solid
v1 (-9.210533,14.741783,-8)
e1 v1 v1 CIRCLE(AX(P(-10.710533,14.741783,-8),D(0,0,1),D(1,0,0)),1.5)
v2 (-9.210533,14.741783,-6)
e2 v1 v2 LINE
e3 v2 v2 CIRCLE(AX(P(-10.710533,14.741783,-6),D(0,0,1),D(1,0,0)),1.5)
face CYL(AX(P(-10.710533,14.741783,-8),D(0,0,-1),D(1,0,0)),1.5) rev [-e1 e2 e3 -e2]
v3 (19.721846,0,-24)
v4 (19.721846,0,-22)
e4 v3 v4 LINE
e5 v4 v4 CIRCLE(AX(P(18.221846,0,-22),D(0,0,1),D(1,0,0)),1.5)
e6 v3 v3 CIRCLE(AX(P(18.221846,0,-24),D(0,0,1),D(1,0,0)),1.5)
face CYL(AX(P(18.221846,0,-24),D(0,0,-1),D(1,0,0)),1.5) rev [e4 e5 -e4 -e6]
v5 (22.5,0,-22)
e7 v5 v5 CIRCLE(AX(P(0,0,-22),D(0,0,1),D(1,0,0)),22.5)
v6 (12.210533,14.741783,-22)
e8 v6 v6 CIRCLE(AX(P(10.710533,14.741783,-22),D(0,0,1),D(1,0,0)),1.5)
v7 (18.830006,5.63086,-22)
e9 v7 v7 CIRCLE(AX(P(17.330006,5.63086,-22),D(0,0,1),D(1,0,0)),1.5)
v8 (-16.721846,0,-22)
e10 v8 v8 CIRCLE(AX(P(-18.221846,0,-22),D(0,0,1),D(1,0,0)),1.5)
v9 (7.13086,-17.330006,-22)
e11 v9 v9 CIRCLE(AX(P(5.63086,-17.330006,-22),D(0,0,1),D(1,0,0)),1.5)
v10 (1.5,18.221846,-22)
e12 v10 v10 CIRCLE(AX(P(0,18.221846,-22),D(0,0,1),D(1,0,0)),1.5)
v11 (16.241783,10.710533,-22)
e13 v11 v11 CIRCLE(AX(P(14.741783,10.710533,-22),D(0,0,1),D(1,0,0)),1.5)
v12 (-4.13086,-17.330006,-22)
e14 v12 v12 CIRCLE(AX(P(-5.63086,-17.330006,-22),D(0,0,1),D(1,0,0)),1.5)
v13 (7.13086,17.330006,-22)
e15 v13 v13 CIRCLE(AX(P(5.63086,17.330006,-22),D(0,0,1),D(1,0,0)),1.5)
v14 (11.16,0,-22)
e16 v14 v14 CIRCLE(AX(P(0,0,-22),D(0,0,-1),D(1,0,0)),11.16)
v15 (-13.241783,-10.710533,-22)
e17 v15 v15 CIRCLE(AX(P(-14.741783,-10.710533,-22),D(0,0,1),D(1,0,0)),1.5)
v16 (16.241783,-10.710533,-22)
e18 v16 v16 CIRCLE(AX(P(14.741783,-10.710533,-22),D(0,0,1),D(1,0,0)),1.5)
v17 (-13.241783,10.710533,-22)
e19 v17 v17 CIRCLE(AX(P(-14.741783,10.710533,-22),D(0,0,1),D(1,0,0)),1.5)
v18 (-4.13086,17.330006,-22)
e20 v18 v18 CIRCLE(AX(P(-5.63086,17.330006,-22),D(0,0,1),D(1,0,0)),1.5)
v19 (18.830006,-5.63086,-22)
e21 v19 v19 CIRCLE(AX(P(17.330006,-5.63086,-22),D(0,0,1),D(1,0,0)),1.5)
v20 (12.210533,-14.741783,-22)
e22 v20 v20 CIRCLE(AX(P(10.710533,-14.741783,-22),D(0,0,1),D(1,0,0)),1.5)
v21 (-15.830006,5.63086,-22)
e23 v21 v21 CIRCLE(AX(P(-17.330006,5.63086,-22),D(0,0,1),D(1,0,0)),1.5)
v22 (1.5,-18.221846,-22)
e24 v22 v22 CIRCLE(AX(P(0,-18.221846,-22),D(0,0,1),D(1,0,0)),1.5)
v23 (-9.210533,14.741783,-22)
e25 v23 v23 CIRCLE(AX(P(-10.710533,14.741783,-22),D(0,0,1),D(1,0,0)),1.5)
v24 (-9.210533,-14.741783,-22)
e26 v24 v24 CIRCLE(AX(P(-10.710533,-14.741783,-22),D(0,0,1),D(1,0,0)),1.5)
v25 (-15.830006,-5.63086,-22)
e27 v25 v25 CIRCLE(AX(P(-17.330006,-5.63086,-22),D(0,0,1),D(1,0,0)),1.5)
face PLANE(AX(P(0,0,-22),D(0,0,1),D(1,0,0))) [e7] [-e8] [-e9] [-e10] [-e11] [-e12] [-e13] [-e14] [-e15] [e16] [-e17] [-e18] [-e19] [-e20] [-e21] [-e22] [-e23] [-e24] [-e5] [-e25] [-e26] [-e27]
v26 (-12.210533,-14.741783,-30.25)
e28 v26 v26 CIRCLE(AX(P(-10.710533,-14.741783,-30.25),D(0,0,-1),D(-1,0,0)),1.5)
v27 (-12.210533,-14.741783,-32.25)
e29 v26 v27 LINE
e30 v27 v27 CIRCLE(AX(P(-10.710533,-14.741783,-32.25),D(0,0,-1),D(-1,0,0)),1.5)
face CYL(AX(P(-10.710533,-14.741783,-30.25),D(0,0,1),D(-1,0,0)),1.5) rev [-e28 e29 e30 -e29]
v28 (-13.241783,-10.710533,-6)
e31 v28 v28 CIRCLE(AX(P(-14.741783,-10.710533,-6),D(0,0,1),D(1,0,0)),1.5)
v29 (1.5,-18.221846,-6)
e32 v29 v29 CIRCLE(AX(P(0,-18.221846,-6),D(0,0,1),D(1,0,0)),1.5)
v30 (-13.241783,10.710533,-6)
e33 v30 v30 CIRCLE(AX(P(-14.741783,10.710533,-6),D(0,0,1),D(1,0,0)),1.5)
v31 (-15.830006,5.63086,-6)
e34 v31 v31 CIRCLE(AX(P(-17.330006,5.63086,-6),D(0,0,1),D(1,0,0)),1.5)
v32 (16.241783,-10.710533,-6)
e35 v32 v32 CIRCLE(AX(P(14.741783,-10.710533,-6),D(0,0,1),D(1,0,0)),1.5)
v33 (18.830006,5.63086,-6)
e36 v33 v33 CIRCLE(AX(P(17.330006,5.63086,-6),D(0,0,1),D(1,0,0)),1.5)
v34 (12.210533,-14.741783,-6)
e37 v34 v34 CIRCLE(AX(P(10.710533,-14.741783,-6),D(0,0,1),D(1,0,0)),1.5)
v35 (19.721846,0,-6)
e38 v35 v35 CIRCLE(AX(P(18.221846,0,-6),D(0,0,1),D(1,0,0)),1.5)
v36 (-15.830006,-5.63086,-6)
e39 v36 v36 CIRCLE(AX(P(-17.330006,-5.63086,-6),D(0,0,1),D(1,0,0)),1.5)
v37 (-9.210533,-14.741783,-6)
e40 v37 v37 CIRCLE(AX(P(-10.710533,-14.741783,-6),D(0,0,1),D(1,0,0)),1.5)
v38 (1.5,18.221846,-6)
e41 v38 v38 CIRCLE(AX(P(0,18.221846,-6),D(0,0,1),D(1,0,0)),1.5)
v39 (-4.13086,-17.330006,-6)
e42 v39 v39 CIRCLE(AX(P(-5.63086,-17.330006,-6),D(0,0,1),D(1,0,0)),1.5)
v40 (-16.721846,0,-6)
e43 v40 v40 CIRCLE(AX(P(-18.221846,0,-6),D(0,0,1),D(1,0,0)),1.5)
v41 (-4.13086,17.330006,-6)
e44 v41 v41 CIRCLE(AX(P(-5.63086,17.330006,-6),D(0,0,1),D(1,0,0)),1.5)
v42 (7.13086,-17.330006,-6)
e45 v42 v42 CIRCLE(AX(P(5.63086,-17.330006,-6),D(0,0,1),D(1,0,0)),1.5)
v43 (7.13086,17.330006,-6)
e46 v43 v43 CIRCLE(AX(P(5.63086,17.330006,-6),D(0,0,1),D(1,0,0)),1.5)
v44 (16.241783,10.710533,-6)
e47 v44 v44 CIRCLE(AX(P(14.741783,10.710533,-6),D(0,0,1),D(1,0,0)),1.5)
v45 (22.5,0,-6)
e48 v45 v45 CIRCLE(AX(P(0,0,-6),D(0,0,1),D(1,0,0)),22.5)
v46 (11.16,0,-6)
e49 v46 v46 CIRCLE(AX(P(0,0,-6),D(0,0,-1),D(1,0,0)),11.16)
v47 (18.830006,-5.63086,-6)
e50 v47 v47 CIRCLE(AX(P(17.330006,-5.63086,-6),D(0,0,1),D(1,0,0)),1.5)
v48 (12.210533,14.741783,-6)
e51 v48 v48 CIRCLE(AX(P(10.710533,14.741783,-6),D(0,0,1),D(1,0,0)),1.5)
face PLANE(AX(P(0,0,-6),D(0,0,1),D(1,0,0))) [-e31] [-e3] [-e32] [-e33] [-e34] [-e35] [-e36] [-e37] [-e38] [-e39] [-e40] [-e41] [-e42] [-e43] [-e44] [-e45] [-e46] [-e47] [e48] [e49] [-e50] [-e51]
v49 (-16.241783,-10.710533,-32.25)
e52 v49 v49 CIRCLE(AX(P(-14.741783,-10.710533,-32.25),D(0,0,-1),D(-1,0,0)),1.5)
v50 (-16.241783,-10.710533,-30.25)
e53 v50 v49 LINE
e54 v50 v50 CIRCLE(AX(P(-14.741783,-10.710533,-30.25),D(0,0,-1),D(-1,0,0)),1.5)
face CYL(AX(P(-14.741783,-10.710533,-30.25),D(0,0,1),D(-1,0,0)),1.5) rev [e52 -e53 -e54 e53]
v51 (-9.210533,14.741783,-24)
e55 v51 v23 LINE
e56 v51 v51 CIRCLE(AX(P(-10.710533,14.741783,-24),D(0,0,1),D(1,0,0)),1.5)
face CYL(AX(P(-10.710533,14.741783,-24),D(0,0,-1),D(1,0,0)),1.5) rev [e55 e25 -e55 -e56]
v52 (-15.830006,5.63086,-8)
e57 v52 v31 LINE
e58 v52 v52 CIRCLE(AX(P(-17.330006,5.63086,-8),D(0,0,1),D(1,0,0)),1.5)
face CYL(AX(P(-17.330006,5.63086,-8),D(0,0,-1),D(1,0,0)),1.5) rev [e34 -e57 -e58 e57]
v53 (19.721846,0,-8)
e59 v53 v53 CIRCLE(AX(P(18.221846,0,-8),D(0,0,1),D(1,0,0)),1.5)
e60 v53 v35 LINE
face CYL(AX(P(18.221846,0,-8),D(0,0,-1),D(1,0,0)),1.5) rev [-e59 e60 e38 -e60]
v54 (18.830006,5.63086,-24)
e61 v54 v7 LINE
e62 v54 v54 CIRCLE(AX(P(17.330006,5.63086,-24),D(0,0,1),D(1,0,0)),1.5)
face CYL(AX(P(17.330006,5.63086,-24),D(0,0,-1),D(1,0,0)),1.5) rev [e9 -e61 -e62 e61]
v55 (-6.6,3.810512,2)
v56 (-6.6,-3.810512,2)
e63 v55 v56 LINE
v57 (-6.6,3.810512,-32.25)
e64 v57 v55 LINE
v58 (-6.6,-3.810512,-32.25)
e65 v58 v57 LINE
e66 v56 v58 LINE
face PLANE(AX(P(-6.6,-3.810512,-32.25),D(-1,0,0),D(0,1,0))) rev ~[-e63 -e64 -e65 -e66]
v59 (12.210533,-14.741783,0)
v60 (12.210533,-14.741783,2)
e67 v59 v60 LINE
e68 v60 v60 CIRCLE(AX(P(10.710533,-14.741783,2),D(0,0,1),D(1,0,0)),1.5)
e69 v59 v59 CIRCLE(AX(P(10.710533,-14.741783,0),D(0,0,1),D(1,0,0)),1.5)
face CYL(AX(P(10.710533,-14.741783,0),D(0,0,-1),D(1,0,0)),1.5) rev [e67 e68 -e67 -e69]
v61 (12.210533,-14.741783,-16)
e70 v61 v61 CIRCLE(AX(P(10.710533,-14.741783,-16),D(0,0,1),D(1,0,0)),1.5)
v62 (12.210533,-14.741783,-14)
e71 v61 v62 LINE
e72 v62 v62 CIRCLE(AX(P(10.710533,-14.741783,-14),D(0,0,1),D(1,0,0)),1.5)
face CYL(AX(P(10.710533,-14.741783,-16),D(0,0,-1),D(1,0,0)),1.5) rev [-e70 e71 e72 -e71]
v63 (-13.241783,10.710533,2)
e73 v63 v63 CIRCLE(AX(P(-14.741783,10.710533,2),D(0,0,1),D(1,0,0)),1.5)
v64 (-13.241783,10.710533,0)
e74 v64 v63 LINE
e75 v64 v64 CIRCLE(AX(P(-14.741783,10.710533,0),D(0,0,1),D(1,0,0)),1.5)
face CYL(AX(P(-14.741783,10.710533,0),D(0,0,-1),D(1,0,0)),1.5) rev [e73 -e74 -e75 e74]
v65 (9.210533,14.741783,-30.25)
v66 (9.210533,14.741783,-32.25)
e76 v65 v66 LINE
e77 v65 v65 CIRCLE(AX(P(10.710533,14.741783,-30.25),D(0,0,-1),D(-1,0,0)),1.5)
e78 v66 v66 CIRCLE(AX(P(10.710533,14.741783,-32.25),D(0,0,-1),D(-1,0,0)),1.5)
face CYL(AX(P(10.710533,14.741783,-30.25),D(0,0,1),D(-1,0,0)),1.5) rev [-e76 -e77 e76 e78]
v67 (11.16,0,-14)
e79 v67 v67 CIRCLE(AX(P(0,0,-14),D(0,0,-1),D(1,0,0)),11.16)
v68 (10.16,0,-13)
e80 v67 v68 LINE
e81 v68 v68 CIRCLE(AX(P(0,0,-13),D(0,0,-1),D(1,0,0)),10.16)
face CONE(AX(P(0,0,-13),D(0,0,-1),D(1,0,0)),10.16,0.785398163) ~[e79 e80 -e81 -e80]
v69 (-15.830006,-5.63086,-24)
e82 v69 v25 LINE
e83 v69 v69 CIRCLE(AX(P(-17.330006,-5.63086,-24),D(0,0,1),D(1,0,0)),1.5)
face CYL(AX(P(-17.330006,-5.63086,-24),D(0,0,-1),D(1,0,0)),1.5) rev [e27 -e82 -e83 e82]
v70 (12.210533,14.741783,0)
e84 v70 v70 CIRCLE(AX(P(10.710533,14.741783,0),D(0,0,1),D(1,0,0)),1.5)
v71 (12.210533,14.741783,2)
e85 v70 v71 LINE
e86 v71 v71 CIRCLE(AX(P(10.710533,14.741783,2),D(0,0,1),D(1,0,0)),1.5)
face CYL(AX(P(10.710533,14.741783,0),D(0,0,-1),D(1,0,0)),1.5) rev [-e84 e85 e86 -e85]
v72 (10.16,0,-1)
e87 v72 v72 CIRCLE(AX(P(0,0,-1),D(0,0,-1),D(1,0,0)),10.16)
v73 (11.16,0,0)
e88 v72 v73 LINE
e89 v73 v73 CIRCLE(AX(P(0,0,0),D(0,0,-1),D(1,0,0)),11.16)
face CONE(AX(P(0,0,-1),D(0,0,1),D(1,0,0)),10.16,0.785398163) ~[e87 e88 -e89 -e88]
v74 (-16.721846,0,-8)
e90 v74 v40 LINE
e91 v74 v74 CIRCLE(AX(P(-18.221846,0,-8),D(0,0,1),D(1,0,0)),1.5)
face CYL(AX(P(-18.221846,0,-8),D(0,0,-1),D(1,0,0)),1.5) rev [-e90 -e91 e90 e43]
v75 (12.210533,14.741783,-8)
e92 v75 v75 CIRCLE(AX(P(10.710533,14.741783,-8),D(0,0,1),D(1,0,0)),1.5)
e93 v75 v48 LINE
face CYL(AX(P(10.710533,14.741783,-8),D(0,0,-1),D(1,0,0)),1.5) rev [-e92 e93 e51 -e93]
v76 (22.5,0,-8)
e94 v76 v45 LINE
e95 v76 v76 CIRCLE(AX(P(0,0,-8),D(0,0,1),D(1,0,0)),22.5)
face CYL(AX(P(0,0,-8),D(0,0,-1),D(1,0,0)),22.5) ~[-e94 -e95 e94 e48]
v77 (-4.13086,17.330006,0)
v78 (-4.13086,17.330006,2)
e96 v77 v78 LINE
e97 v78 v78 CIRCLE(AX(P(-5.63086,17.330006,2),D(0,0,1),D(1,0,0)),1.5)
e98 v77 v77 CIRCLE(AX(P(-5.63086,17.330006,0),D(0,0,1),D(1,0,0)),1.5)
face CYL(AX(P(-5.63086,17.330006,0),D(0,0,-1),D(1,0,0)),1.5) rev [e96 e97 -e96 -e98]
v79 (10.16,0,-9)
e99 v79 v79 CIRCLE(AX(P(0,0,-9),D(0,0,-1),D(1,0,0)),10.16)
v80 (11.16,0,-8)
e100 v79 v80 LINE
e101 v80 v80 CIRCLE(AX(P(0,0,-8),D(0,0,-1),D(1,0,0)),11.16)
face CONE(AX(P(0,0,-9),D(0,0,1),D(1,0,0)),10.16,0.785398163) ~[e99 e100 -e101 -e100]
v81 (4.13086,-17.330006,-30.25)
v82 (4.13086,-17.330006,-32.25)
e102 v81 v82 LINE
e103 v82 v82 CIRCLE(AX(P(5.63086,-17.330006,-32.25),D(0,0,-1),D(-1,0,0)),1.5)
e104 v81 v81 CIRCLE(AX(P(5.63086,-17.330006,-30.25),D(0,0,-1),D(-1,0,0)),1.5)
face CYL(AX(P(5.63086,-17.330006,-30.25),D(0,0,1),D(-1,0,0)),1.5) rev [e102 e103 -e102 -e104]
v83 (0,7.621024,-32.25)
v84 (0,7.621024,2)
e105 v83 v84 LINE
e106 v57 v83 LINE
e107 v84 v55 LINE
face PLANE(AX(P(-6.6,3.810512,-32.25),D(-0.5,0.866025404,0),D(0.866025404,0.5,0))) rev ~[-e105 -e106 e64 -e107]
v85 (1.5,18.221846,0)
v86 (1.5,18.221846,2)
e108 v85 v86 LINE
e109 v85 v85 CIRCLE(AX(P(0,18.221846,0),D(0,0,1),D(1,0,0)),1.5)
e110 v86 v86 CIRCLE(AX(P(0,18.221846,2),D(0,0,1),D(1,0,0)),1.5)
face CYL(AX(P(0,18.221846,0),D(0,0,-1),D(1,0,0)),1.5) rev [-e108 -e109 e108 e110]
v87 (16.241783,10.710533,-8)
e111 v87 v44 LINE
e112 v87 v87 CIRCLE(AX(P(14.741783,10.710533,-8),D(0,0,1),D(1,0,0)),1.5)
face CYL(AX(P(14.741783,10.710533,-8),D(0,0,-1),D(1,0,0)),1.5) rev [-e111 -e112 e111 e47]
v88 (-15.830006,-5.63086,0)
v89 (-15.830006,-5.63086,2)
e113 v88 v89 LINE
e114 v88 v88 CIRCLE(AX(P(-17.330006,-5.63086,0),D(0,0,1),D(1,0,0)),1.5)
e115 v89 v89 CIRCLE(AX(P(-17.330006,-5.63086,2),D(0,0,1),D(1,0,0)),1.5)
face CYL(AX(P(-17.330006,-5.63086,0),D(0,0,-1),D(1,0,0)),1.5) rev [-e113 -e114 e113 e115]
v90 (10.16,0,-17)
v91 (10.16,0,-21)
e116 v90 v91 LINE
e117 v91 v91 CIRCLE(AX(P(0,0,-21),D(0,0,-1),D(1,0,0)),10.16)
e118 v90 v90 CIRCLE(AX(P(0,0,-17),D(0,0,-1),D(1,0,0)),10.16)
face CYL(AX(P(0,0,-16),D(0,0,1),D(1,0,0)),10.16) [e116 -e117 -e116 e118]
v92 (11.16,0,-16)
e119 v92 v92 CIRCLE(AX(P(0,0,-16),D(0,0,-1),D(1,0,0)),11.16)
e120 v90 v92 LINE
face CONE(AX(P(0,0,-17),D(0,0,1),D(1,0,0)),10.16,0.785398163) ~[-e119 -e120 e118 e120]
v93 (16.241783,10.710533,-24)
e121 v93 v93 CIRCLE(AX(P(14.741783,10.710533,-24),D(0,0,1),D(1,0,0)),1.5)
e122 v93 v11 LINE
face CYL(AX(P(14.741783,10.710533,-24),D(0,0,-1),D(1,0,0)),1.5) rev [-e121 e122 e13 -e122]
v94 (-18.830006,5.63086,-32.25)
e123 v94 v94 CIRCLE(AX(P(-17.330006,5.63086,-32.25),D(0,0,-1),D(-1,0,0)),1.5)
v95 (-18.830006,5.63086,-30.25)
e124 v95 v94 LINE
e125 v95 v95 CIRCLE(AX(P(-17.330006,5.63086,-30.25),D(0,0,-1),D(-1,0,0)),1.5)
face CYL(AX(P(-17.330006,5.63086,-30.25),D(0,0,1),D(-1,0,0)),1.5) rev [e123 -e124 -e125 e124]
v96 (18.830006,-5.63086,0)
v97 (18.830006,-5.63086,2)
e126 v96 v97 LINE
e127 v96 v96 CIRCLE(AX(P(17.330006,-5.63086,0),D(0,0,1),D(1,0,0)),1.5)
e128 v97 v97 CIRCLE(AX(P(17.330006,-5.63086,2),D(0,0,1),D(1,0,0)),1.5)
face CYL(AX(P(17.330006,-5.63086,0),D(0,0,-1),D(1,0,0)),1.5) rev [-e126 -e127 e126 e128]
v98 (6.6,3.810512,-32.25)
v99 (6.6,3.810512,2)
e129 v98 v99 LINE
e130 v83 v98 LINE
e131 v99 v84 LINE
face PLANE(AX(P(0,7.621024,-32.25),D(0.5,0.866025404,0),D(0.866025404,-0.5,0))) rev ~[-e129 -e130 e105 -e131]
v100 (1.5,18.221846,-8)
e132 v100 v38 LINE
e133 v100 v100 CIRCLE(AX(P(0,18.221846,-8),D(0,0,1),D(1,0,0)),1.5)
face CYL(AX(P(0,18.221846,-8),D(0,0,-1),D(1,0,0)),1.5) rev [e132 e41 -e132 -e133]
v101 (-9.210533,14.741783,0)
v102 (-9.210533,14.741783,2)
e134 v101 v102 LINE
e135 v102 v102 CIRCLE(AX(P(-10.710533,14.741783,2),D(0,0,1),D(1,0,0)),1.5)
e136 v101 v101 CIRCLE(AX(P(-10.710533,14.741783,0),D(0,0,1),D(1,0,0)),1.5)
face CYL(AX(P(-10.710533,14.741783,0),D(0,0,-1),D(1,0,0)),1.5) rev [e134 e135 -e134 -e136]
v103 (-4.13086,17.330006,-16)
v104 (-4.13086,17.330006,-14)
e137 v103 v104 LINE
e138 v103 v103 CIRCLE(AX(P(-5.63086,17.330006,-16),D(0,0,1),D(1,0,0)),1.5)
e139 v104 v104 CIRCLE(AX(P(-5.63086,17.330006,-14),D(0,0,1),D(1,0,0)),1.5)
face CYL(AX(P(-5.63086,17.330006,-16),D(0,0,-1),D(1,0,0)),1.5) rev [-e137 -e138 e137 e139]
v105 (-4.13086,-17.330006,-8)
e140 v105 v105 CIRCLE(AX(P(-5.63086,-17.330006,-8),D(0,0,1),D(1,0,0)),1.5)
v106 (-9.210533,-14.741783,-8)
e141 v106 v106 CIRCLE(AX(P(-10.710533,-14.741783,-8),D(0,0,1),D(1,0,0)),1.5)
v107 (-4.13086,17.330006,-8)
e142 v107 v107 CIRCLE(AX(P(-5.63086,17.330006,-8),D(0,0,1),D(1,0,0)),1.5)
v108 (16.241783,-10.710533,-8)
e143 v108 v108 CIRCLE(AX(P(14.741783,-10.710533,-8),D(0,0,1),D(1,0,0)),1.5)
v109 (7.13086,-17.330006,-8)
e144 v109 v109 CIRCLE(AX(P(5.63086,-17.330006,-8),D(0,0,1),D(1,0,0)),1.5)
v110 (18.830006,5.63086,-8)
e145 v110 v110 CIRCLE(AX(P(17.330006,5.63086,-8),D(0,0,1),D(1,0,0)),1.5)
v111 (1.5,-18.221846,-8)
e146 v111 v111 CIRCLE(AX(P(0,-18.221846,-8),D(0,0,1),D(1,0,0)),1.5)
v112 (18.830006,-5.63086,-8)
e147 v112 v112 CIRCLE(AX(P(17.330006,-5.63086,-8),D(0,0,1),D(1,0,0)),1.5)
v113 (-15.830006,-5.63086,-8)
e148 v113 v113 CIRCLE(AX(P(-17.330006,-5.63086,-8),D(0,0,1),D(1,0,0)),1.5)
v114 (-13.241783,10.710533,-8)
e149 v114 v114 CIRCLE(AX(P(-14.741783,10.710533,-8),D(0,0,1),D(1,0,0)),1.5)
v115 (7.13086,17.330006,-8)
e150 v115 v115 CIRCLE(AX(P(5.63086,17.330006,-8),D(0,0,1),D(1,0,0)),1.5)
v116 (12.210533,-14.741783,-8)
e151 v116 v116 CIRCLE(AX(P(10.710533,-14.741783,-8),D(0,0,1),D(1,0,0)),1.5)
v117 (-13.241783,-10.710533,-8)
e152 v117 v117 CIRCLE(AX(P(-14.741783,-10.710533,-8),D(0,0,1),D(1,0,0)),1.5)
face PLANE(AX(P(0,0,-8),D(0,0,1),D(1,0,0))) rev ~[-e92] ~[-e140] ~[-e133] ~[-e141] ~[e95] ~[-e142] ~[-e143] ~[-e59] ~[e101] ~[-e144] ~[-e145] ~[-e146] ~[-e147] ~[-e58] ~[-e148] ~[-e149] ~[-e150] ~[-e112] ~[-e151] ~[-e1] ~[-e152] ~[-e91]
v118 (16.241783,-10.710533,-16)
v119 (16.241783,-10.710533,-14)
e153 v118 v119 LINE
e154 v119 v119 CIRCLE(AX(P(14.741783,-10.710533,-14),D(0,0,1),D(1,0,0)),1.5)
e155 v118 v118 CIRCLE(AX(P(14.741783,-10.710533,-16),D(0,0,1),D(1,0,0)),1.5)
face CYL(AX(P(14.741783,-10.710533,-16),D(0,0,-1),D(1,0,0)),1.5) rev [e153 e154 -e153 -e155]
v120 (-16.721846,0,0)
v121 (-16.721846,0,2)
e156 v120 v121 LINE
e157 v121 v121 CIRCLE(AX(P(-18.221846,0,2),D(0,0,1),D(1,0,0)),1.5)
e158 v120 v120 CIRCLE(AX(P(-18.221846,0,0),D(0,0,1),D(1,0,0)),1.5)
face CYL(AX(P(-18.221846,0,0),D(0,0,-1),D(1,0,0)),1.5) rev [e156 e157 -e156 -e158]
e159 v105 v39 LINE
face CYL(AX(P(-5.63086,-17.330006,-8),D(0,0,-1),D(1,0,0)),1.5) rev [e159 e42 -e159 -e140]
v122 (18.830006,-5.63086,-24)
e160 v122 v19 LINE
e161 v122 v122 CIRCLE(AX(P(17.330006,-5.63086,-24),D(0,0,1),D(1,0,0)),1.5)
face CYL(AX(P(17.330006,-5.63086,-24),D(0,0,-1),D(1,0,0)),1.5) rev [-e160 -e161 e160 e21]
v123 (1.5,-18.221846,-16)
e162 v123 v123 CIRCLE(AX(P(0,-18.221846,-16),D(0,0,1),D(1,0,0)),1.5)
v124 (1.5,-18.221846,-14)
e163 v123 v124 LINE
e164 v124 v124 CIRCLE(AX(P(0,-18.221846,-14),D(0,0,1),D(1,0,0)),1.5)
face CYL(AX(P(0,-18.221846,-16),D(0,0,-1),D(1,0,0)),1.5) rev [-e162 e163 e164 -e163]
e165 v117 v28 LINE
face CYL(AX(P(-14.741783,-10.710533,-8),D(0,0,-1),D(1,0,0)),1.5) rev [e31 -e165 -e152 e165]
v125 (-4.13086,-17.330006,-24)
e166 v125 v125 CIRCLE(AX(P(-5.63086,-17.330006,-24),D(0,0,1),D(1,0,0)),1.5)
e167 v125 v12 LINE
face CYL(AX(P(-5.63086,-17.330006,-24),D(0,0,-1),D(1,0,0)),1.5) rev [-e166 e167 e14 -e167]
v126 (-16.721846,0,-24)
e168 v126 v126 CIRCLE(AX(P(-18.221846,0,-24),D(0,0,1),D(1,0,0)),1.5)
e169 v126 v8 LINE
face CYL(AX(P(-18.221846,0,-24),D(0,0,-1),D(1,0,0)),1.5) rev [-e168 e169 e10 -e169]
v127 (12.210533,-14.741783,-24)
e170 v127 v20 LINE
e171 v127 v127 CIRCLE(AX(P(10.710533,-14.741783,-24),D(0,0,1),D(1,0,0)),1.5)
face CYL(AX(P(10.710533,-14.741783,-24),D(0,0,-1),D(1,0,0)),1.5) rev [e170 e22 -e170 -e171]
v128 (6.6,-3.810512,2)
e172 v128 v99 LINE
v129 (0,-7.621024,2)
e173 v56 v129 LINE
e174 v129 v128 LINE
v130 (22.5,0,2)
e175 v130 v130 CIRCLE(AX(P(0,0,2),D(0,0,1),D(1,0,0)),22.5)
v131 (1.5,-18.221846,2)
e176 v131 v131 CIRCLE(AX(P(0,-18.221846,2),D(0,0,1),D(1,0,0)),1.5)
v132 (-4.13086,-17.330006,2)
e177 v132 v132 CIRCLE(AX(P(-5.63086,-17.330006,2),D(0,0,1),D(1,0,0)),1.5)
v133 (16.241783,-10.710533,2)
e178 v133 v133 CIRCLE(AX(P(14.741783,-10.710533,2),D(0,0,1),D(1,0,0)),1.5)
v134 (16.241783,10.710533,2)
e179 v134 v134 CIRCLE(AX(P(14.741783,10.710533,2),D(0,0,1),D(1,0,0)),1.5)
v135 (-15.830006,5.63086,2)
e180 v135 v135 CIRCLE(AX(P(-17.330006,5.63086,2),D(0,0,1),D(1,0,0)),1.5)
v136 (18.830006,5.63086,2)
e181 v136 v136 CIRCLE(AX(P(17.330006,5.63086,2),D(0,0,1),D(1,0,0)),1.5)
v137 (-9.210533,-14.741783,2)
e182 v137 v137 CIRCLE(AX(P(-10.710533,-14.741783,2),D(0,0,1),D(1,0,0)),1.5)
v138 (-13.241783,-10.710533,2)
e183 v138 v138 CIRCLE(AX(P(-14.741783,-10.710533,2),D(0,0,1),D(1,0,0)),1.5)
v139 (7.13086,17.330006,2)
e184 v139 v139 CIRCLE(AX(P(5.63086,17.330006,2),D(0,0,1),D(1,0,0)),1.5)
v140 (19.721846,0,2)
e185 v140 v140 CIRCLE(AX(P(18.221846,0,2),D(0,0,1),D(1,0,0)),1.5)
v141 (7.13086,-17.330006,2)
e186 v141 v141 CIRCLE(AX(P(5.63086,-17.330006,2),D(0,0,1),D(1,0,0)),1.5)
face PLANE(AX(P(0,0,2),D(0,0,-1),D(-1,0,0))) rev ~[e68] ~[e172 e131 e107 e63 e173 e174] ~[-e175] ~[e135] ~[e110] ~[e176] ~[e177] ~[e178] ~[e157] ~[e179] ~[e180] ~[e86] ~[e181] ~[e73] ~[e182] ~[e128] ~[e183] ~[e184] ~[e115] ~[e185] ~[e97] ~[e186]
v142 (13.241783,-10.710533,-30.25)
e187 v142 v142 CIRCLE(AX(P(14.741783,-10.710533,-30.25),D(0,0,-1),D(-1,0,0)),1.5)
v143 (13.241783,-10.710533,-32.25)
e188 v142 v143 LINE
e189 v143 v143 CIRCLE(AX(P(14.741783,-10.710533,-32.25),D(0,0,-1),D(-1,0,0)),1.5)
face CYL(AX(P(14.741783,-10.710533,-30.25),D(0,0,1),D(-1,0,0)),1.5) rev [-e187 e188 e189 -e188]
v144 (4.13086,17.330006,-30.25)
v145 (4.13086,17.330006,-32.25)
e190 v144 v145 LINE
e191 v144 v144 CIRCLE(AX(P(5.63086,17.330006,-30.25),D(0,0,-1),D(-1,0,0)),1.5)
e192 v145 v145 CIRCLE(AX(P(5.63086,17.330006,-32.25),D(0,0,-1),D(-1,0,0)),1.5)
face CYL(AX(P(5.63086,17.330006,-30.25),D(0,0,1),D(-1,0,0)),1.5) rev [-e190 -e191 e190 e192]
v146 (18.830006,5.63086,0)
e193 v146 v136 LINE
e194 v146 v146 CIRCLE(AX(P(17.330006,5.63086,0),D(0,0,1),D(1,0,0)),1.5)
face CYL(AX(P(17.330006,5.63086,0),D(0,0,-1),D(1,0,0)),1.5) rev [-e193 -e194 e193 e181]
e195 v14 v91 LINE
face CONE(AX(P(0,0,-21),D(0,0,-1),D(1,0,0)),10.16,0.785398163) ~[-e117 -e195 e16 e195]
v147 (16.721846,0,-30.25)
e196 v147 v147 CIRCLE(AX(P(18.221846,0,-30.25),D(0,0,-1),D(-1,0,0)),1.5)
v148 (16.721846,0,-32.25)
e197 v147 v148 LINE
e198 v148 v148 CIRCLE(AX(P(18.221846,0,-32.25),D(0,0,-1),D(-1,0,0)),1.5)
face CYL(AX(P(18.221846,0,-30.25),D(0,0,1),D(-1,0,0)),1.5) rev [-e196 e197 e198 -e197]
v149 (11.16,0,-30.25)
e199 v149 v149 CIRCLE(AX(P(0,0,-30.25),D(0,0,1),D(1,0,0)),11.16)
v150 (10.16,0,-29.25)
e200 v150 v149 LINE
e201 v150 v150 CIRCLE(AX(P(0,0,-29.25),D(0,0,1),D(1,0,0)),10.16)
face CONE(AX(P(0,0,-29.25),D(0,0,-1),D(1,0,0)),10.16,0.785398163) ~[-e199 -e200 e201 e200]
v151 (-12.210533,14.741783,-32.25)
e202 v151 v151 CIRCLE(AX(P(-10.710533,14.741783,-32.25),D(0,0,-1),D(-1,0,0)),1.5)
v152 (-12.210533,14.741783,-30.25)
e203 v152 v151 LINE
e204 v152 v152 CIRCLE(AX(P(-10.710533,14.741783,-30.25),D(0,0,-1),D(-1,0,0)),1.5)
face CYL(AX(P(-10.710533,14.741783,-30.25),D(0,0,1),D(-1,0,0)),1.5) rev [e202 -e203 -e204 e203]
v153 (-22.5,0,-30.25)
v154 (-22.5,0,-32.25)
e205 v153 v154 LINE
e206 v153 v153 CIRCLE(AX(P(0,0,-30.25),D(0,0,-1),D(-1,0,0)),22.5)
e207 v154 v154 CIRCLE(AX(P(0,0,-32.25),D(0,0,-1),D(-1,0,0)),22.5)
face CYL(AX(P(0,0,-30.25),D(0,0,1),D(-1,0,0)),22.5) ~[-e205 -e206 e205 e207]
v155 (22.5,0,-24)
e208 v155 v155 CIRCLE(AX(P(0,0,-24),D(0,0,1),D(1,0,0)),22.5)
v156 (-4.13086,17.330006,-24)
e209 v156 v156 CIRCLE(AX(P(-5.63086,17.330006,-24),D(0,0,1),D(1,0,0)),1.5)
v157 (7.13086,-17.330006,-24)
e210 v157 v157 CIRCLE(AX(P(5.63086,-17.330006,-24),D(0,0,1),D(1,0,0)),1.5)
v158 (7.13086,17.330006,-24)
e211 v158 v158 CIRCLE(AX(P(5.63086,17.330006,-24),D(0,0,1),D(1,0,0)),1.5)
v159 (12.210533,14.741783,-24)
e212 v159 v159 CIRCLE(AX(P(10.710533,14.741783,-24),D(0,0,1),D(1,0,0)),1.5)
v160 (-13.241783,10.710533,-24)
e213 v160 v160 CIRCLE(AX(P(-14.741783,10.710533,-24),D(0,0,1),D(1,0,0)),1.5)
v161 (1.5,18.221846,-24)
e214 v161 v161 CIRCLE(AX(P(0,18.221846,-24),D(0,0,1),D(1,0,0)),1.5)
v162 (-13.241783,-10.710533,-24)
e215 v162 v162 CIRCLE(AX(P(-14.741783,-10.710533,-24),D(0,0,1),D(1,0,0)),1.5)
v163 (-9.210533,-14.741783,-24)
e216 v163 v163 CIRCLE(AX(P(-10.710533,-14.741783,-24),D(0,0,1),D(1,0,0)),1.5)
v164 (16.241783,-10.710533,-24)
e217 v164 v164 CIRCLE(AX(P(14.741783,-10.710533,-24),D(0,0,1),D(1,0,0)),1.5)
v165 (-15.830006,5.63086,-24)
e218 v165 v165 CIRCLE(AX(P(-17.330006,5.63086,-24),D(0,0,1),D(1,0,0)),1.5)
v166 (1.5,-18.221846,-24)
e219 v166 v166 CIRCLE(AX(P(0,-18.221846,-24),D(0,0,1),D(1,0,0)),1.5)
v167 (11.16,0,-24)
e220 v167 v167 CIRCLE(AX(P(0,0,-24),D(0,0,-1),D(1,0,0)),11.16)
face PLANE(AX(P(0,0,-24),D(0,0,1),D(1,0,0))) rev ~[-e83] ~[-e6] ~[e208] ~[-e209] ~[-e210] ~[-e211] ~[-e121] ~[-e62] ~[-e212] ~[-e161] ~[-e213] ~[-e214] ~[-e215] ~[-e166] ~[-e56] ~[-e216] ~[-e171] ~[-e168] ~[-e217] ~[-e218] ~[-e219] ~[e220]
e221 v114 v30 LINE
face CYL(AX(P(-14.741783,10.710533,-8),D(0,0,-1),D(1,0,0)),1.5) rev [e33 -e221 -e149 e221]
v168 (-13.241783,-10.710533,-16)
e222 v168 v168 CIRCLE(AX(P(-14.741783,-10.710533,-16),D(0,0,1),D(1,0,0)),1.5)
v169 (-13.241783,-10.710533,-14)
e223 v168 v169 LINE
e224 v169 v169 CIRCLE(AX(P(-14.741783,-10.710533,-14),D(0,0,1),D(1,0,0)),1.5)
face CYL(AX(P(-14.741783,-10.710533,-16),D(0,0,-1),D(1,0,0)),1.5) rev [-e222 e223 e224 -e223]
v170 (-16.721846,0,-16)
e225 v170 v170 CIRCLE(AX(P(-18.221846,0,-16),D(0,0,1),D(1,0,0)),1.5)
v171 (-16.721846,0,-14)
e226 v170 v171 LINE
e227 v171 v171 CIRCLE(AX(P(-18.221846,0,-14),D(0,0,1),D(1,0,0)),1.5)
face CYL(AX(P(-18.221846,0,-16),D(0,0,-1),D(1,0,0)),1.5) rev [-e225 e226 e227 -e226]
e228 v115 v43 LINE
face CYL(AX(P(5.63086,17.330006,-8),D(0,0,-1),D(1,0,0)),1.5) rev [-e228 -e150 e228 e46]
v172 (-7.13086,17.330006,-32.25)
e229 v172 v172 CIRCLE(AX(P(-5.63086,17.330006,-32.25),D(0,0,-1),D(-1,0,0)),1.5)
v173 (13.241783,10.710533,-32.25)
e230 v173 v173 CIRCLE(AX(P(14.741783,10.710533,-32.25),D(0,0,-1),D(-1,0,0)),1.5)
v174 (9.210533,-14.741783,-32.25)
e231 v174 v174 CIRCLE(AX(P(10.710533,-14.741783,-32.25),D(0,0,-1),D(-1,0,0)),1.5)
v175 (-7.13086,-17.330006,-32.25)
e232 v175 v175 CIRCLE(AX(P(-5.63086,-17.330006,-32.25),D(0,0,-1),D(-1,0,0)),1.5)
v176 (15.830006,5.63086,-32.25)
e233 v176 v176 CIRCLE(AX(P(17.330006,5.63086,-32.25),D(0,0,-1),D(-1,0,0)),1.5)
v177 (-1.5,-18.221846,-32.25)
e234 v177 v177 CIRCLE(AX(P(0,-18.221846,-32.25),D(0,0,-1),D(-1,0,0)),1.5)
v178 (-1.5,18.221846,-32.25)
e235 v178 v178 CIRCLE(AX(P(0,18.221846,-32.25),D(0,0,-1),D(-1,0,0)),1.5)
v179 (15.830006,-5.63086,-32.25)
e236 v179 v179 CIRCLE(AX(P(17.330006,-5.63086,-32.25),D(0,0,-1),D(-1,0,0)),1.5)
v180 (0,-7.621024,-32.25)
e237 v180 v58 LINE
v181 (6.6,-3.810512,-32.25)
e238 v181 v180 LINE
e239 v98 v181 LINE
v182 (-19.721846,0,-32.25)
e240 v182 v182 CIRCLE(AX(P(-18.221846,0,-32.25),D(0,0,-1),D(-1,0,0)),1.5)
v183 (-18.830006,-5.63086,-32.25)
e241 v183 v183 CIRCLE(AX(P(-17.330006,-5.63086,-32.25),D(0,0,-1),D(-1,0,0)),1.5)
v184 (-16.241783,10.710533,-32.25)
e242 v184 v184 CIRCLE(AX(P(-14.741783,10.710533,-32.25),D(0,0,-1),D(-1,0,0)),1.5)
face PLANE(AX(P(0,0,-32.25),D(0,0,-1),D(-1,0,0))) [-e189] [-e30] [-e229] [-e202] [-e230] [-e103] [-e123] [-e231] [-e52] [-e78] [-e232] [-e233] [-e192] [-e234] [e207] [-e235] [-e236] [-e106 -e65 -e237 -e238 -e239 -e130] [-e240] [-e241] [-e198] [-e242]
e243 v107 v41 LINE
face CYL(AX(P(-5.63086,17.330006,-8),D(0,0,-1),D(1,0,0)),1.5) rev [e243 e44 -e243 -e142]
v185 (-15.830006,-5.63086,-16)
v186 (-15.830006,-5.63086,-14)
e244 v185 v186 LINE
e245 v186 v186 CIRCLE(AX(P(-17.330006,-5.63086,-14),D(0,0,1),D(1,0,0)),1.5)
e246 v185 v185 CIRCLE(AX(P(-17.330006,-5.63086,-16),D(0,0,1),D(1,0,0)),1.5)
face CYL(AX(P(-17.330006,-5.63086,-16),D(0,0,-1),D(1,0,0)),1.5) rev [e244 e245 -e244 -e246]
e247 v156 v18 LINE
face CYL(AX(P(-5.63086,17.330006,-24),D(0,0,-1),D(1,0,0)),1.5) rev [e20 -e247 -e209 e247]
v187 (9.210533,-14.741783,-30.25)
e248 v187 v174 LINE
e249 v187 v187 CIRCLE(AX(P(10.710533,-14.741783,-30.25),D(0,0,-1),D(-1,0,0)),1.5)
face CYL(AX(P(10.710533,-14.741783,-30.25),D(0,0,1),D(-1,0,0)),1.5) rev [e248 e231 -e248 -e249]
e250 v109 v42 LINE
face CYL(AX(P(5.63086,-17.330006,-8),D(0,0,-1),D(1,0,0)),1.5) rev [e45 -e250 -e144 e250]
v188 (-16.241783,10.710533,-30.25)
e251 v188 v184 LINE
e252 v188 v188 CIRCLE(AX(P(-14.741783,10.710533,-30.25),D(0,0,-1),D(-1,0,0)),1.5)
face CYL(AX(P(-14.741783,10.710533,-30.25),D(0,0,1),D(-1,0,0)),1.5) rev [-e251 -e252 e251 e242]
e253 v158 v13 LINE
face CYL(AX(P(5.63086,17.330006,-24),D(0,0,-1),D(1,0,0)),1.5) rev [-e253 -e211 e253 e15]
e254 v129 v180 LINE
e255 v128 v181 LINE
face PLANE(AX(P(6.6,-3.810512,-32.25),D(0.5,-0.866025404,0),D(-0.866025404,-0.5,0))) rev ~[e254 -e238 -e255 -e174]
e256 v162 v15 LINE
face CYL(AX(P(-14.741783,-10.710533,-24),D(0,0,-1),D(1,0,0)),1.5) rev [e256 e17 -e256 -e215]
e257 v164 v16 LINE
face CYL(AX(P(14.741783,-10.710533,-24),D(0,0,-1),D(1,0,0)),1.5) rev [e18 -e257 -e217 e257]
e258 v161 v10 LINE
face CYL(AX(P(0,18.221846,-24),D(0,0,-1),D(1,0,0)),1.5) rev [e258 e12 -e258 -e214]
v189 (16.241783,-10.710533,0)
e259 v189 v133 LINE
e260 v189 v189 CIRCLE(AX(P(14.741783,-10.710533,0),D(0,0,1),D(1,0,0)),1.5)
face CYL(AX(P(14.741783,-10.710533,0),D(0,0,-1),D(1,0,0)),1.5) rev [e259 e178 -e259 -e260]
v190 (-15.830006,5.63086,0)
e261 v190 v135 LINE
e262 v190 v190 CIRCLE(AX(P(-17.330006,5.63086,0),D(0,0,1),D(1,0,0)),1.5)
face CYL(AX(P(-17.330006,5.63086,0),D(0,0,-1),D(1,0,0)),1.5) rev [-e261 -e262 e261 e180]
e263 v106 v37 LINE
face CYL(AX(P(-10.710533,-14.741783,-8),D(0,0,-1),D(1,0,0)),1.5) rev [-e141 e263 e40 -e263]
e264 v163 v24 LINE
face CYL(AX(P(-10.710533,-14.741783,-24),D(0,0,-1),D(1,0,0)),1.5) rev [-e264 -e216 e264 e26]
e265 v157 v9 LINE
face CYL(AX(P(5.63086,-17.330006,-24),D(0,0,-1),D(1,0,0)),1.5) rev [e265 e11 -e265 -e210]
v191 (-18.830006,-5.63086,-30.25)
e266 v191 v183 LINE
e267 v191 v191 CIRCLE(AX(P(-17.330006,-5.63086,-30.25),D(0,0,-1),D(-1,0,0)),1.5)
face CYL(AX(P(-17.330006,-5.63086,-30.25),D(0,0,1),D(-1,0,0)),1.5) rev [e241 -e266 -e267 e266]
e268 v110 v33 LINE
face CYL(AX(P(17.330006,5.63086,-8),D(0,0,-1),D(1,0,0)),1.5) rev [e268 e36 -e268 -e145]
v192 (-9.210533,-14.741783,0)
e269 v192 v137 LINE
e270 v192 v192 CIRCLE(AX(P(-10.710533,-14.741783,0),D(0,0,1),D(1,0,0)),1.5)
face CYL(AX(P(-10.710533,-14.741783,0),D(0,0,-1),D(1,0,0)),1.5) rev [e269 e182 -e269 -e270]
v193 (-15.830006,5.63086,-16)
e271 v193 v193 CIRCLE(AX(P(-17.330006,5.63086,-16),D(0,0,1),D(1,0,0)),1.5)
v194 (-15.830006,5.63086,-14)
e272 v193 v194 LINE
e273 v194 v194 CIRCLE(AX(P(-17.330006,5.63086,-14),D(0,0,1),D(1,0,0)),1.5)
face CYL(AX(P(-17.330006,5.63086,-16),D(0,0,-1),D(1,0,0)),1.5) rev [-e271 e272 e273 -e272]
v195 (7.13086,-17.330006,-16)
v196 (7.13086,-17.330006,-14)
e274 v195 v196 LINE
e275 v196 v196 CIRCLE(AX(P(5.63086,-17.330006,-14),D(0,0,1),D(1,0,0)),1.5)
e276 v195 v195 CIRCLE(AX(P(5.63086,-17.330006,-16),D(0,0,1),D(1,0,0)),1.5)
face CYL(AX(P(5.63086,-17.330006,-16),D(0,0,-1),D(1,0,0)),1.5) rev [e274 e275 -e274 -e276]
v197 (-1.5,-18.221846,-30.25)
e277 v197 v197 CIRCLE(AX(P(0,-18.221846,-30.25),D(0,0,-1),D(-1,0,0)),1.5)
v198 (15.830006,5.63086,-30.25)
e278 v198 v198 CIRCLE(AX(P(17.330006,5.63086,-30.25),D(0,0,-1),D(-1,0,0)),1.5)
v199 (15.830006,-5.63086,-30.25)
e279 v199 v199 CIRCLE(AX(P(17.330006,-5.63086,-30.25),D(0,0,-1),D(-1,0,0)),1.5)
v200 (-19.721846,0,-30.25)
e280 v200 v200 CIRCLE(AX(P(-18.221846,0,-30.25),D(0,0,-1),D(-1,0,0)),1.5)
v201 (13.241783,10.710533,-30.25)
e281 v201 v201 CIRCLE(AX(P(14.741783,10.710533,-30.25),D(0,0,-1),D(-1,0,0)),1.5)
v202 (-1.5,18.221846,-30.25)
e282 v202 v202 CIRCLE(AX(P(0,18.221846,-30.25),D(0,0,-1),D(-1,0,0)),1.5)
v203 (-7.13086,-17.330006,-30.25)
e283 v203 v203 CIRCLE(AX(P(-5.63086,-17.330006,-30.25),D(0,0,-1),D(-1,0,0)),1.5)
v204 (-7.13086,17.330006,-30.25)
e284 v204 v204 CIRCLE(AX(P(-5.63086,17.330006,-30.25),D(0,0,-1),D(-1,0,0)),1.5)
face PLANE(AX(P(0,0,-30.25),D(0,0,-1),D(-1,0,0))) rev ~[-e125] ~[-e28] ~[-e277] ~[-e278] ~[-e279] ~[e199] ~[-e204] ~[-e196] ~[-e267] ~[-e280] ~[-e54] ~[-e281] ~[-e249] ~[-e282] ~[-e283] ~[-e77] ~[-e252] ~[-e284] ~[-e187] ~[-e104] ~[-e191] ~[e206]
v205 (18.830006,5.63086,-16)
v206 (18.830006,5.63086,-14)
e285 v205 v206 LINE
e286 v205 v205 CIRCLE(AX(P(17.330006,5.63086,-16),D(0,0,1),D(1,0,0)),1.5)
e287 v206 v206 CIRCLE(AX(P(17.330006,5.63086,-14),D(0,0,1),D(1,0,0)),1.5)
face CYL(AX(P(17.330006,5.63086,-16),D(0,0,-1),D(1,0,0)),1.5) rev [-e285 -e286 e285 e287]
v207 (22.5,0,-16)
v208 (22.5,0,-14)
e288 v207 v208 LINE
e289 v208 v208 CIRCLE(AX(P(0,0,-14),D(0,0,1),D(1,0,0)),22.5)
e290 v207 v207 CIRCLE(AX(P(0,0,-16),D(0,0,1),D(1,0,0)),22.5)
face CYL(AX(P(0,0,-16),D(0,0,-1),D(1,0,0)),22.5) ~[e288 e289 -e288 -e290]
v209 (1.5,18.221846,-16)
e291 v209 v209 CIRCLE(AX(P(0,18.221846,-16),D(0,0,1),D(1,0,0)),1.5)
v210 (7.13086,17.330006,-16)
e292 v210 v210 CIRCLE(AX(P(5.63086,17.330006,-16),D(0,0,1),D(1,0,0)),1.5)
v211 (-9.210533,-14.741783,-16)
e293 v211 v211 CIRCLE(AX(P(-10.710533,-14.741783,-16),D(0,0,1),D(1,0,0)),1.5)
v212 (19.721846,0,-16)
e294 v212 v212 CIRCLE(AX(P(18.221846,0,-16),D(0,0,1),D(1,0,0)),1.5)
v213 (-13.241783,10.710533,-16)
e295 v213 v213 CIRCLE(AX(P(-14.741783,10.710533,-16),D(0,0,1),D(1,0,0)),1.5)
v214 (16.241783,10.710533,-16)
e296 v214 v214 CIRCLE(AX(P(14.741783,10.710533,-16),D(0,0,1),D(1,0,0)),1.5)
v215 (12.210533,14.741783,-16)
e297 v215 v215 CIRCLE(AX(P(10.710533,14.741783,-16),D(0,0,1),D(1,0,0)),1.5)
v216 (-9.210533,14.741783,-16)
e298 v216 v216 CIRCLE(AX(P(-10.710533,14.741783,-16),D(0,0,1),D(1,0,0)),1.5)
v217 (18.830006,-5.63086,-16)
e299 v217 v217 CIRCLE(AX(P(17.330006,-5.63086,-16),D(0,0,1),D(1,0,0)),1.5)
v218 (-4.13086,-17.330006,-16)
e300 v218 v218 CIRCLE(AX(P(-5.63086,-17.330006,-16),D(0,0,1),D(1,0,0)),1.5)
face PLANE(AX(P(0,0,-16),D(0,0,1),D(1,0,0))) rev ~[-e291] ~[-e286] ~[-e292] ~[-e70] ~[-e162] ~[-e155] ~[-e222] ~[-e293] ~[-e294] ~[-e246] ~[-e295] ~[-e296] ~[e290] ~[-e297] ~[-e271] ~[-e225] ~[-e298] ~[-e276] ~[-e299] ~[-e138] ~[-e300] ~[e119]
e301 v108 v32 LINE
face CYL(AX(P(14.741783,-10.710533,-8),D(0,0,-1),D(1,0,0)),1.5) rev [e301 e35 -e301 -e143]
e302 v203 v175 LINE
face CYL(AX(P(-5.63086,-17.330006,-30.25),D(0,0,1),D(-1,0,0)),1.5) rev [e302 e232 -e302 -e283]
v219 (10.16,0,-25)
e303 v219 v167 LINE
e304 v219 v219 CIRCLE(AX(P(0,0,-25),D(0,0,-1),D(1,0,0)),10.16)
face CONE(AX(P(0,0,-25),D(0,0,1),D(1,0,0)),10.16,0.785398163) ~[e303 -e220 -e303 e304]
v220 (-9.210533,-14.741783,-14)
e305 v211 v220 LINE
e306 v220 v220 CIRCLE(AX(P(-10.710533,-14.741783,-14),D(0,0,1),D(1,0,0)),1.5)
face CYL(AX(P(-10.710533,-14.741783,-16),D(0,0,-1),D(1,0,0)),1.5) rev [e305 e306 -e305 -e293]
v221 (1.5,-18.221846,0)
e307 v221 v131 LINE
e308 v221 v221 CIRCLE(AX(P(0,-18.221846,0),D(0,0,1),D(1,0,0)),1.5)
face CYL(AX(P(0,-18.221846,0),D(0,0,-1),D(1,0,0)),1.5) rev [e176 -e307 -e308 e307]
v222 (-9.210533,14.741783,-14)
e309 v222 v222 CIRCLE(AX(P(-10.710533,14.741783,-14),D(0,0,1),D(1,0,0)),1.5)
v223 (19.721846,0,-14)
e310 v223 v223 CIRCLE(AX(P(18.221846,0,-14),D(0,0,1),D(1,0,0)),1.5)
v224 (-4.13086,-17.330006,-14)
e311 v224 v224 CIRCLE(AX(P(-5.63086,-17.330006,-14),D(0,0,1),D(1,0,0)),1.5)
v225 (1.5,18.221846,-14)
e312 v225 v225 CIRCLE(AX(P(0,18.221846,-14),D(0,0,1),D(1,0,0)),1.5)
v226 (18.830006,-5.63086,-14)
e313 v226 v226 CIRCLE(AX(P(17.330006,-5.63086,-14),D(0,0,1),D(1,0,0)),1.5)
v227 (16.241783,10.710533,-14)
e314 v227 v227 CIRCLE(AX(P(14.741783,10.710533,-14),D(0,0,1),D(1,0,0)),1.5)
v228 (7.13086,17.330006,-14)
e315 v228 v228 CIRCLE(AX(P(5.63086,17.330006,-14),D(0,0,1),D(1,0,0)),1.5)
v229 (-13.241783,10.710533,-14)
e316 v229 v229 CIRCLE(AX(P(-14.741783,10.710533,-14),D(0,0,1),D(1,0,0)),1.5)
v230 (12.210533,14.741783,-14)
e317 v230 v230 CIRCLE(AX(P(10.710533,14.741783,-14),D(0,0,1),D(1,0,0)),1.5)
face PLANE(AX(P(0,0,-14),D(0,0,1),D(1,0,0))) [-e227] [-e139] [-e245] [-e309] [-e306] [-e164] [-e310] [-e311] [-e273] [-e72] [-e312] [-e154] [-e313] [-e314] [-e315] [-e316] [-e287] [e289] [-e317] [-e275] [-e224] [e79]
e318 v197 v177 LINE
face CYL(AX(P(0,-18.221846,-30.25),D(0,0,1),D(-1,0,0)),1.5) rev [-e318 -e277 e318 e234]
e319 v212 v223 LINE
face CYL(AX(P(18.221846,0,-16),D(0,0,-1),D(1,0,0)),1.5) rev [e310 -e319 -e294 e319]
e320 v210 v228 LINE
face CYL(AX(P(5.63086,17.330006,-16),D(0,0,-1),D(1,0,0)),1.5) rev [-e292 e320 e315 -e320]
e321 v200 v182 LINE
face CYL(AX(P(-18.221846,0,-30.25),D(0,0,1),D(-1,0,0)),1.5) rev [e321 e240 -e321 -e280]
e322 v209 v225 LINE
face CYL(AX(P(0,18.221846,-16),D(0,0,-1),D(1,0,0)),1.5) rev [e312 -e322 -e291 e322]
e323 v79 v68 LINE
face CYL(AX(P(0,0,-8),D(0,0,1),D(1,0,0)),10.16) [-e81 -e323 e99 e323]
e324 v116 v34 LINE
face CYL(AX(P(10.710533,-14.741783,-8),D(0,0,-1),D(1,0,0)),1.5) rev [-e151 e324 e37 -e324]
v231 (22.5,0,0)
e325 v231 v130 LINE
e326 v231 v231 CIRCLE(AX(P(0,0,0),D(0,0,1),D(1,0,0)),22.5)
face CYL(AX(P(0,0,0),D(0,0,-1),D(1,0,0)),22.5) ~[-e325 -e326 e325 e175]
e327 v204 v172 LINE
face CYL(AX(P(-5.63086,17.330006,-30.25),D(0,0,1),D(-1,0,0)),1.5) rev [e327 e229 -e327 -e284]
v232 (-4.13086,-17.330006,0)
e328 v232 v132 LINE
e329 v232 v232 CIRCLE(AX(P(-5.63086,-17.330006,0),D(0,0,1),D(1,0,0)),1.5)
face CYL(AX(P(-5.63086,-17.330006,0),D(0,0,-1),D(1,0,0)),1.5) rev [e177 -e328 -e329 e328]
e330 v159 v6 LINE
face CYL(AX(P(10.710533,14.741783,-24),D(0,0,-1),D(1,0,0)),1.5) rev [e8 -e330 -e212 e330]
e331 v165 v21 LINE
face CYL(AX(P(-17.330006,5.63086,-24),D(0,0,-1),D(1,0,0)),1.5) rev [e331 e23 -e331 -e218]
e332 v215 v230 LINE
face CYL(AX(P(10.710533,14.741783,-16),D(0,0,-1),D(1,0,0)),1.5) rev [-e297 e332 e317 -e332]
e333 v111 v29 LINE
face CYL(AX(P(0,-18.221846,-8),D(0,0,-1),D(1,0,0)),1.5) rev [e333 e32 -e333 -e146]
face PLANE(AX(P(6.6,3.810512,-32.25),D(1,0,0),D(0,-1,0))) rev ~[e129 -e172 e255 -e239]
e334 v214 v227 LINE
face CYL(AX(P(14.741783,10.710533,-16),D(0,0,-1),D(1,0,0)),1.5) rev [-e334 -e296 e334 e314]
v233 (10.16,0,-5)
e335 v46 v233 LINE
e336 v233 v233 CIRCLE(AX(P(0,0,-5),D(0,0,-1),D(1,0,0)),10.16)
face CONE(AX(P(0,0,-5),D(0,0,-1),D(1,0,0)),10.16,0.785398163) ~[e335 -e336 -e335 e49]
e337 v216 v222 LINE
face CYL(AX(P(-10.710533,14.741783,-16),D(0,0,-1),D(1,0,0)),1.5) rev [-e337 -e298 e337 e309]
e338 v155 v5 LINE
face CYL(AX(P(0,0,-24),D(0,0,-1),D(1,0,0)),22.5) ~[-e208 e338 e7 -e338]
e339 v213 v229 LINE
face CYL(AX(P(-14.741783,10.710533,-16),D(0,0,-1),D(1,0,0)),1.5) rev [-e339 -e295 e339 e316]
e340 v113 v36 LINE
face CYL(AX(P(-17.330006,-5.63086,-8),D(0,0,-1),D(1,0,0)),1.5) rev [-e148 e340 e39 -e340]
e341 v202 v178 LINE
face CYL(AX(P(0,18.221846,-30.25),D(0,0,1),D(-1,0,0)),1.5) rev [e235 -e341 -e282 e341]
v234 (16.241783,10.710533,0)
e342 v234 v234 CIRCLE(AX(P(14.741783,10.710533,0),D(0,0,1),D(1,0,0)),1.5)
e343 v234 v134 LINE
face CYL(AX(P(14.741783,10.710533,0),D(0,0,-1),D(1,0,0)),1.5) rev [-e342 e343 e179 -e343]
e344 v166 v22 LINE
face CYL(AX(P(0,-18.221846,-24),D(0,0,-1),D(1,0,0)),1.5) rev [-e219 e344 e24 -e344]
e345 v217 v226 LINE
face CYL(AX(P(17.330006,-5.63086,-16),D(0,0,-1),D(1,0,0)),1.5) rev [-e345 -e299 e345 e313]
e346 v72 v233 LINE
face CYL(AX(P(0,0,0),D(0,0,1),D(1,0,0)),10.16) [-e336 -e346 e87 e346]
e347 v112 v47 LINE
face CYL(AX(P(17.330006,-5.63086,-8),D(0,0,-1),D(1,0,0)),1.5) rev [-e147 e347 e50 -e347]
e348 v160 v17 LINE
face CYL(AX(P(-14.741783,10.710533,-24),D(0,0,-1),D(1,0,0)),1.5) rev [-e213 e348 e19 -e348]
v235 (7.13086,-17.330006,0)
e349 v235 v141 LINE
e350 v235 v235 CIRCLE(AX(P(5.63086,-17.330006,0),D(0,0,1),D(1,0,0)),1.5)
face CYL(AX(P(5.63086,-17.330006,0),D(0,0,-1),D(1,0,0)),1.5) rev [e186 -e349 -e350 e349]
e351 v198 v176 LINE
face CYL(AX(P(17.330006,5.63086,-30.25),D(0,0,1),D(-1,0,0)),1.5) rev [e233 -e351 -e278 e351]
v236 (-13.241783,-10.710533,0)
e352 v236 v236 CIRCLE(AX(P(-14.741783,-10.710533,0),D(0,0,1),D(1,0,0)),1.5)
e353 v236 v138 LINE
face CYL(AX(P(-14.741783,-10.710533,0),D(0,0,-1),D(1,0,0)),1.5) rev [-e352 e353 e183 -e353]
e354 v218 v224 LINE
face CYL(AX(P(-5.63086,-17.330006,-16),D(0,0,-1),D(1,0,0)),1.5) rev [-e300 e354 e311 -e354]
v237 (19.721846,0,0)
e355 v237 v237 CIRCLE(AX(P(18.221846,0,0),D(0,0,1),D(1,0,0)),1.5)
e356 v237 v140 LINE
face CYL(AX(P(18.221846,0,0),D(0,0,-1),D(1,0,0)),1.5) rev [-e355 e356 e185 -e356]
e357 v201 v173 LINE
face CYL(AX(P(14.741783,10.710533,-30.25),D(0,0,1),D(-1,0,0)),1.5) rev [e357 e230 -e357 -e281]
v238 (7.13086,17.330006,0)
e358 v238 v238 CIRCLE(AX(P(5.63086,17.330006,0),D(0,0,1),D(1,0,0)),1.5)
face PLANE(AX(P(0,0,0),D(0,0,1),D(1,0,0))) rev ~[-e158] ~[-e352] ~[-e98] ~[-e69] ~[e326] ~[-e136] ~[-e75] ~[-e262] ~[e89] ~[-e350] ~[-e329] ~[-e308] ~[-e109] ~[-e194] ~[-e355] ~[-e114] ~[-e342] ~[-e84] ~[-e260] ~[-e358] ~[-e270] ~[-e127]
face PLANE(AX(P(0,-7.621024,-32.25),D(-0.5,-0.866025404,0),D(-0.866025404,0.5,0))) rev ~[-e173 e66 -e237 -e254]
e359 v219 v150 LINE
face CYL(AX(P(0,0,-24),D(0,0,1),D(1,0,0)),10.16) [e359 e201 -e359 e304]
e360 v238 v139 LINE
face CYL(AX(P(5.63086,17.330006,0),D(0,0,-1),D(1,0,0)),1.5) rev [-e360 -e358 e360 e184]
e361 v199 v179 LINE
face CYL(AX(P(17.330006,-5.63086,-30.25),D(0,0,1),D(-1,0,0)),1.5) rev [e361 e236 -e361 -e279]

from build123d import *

# Parameters (mm, degrees)
SKETCH1_R           = 10.16
SKETCH1_R_2         = 22.5
SKETCH1_R_3         = 1.5
BOSS_EXTRUDE1_DEPTH = 2
SKETCH1_3_R         = 10.16
BOSS_EXTRUDE2_DEPTH = 6.25
LPATTERN2_COUNT     = 4
LPATTERN2_PITCH     = 8
SKETCH2_R           = 22.5
SKETCH2_R_2         = 1.5
SKETCH2_R_3         = 10.16
BOSS_EXTRUDE3_DEPTH = 2
CUT_EXTRUDE1_DEPTH  = 35.25
SKETCH4_R           = 10.16
BOSS_EXTRUDE5_DEPTH = 34.25
CHAMFER1_SIZE       = 1


with BuildPart() as part:
    # Sketch1 → Boss-Extrude1 (new body)
    with BuildSketch(Plane.XY):
        Circle(SKETCH1_R)
        Circle(SKETCH1_R_2)
        with Locations((-5.630860181, 17.330005678)):
            Circle(SKETCH1_R_3, mode=Mode.SUBTRACT)
        with Locations((-10.710532534, 14.741783339)):
            Circle(SKETCH1_R_3, mode=Mode.SUBTRACT)
        with Locations((-14.741783339, 10.710532534)):
            Circle(SKETCH1_R_3, mode=Mode.SUBTRACT)
        with Locations((-17.330005678, 5.630860181)):
            Circle(SKETCH1_R_3, mode=Mode.SUBTRACT)
        with Locations((-18.221846316, 0)):
            Circle(SKETCH1_R_3, mode=Mode.SUBTRACT)
        with Locations((-17.330005678, -5.630860181)):
            Circle(SKETCH1_R_3, mode=Mode.SUBTRACT)
        with Locations((-14.741783339, -10.710532534)):
            Circle(SKETCH1_R_3, mode=Mode.SUBTRACT)
        with Locations((-10.710532534, -14.741783339)):
            Circle(SKETCH1_R_3, mode=Mode.SUBTRACT)
        with Locations((-5.630860181, -17.330005678)):
            Circle(SKETCH1_R_3, mode=Mode.SUBTRACT)
        with Locations((0, -18.221846316)):
            Circle(SKETCH1_R_3, mode=Mode.SUBTRACT)
        with Locations((5.630860181, -17.330005678)):
            Circle(SKETCH1_R_3, mode=Mode.SUBTRACT)
        with Locations((10.710532534, -14.741783339)):
            Circle(SKETCH1_R_3, mode=Mode.SUBTRACT)
        with Locations((14.741783339, -10.710532534)):
            Circle(SKETCH1_R_3, mode=Mode.SUBTRACT)
        with Locations((17.330005678, -5.630860181)):
            Circle(SKETCH1_R_3, mode=Mode.SUBTRACT)
        with Locations((18.221846316, 0)):
            Circle(SKETCH1_R_3, mode=Mode.SUBTRACT)
        with Locations((17.330005678, 5.630860181)):
            Circle(SKETCH1_R_3, mode=Mode.SUBTRACT)
        with Locations((14.741783339, 10.710532534)):
            Circle(SKETCH1_R_3, mode=Mode.SUBTRACT)
        with Locations((10.710532534, 14.741783339)):
            Circle(SKETCH1_R_3, mode=Mode.SUBTRACT)
        with Locations((5.630860181, 17.330005678)):
            Circle(SKETCH1_R_3, mode=Mode.SUBTRACT)
        with Locations((0, 18.221846316)):
            Circle(SKETCH1_R_3, mode=Mode.SUBTRACT)
        Circle(SKETCH1_R, mode=Mode.SUBTRACT)
    extrude(amount=BOSS_EXTRUDE1_DEPTH)

    # Sketch1<3> → Boss-Extrude2 (add)
    with BuildSketch(Plane.XY):
        Circle(SKETCH1_3_R)
    extrude(amount=-BOSS_EXTRUDE2_DEPTH)


with BuildPart() as lpattern2_1:
    # LPattern2: pattern copy
    add(part.part.moved(Location(Vector(0, 0, -1) * (1 * LPATTERN2_PITCH))))


with BuildPart() as lpattern2_2:
    # LPattern2: pattern copy
    add(part.part.moved(Location(Vector(0, 0, -1) * (2 * LPATTERN2_PITCH))))


with BuildPart() as lpattern2_3:
    # LPattern2: pattern copy
    add(part.part.moved(Location(Vector(0, 0, -1) * (3 * LPATTERN2_PITCH))))

    # Sketch2 → Boss-Extrude3 (add)
    with BuildSketch(Plane(origin=(0, 0, -30.25), x_dir=(-1, 0, 0), z_dir=(0, 0, -1))):
        Circle(SKETCH2_R)
        with Locations((5.630860181, 17.330005678)):
            Circle(SKETCH2_R_2, mode=Mode.SUBTRACT)
        with Locations((0, 18.221846316)):
            Circle(SKETCH2_R_2, mode=Mode.SUBTRACT)
        with Locations((-5.630860181, 17.330005678)):
            Circle(SKETCH2_R_2, mode=Mode.SUBTRACT)
        with Locations((-10.710532534, 14.741783339)):
            Circle(SKETCH2_R_2, mode=Mode.SUBTRACT)
        with Locations((-14.741783339, 10.710532534)):
            Circle(SKETCH2_R_2, mode=Mode.SUBTRACT)
        with Locations((-17.330005678, 5.630860181)):
            Circle(SKETCH2_R_2, mode=Mode.SUBTRACT)
        with Locations((-18.221846316, 0)):
            Circle(SKETCH2_R_2, mode=Mode.SUBTRACT)
        with Locations((-17.330005678, -5.630860181)):
            Circle(SKETCH2_R_2, mode=Mode.SUBTRACT)
        with Locations((-14.741783339, -10.710532534)):
            Circle(SKETCH2_R_2, mode=Mode.SUBTRACT)
        with Locations((-10.710532534, -14.741783339)):
            Circle(SKETCH2_R_2, mode=Mode.SUBTRACT)
        with Locations((-5.630860181, -17.330005678)):
            Circle(SKETCH2_R_2, mode=Mode.SUBTRACT)
        with Locations((0, -18.221846316)):
            Circle(SKETCH2_R_2, mode=Mode.SUBTRACT)
        with Locations((5.630860181, -17.330005678)):
            Circle(SKETCH2_R_2, mode=Mode.SUBTRACT)
        with Locations((10.710532534, -14.741783339)):
            Circle(SKETCH2_R_2, mode=Mode.SUBTRACT)
        with Locations((14.741783339, -10.710532534)):
            Circle(SKETCH2_R_2, mode=Mode.SUBTRACT)
        with Locations((17.330005678, -5.630860181)):
            Circle(SKETCH2_R_2, mode=Mode.SUBTRACT)
        with Locations((18.221846316, 0)):
            Circle(SKETCH2_R_2, mode=Mode.SUBTRACT)
        with Locations((17.330005678, 5.630860181)):
            Circle(SKETCH2_R_2, mode=Mode.SUBTRACT)
        with Locations((14.741783339, 10.710532534)):
            Circle(SKETCH2_R_2, mode=Mode.SUBTRACT)
        with Locations((10.710532534, 14.741783339)):
            Circle(SKETCH2_R_2, mode=Mode.SUBTRACT)
        Circle(SKETCH2_R_3, mode=Mode.SUBTRACT)
        Circle(SKETCH2_R_3)
    extrude(amount=BOSS_EXTRUDE3_DEPTH)


with BuildPart() as cut_extrude1_tool:
    # Sketch3 → Cut-Extrude1 (new body, through all)
    with BuildSketch(Plane(origin=(0, 0, -32.25), x_dir=(-1, 0, 0), z_dir=(0, 0, -1))):
        Polygon((6.6, -3.810511777), (6.6, 3.810511777), (0, 7.621023553), (-6.6, 3.810511777), (-6.6, -3.810511777), (0, -7.621023553), align=None)
    extrude(amount=-CUT_EXTRUDE1_DEPTH)


with BuildPart() as part_1:
    add(part.part)

    # Cut-Extrude1: cut by cut_extrude1_tool
    add(cut_extrude1_tool.part, mode=Mode.SUBTRACT)



with BuildPart() as lpattern2_1_1:
    add(lpattern2_1.part)

    # Cut-Extrude1: cut by cut_extrude1_tool
    add(cut_extrude1_tool.part, mode=Mode.SUBTRACT)


with BuildPart() as lpattern2_2_1:
    add(lpattern2_2.part)

    # Cut-Extrude1: cut by cut_extrude1_tool
    add(cut_extrude1_tool.part, mode=Mode.SUBTRACT)


with BuildPart() as lpattern2_3_1:
    add(lpattern2_3.part)

    # Cut-Extrude1: cut by cut_extrude1_tool
    add(cut_extrude1_tool.part, mode=Mode.SUBTRACT)


with BuildPart() as part_2:
    add(part_1.part)

    add(lpattern2_1_1.part)  # Boss-Extrude5 merges LPattern2_1

    add(lpattern2_2_1.part)  # Boss-Extrude5 merges LPattern2_2

    add(lpattern2_3_1.part)  # Boss-Extrude5 merges LPattern2_3
    # Sketch4 → Boss-Extrude5 (add)
    with BuildSketch(Plane(origin=(0, 0, -32.25), x_dir=(-1, 0, 0), z_dir=(0, 0, -1))):
        Circle(SKETCH4_R)
        Polygon((0, 7.621023553), (6.6, 3.810511777), (6.6, -3.810511777), (0, -7.621023553), (-6.6, -3.810511777), (-6.6, 3.810511777), align=None, mode=Mode.SUBTRACT)
    extrude(amount=-BOSS_EXTRUDE5_DEPTH)

    # Chamfer1
    chamfer1_edges = [part_2.edges().sort_by_distance(p)[0] for p in [
        (-10.16, 0, -6),
        (-10.16, 0, -8),
        (-10.16, 0, -14),
        (-10.16, 0, -16),
        (-10.16, 0, -22),
        (-10.16, 0, -24),
        (-10.16, 0, -30.25),
        (-10.16, 0, 0),
    ]]
    chamfer(chamfer1_edges, length=CHAMFER1_SIZE)


solid = part_2.part
